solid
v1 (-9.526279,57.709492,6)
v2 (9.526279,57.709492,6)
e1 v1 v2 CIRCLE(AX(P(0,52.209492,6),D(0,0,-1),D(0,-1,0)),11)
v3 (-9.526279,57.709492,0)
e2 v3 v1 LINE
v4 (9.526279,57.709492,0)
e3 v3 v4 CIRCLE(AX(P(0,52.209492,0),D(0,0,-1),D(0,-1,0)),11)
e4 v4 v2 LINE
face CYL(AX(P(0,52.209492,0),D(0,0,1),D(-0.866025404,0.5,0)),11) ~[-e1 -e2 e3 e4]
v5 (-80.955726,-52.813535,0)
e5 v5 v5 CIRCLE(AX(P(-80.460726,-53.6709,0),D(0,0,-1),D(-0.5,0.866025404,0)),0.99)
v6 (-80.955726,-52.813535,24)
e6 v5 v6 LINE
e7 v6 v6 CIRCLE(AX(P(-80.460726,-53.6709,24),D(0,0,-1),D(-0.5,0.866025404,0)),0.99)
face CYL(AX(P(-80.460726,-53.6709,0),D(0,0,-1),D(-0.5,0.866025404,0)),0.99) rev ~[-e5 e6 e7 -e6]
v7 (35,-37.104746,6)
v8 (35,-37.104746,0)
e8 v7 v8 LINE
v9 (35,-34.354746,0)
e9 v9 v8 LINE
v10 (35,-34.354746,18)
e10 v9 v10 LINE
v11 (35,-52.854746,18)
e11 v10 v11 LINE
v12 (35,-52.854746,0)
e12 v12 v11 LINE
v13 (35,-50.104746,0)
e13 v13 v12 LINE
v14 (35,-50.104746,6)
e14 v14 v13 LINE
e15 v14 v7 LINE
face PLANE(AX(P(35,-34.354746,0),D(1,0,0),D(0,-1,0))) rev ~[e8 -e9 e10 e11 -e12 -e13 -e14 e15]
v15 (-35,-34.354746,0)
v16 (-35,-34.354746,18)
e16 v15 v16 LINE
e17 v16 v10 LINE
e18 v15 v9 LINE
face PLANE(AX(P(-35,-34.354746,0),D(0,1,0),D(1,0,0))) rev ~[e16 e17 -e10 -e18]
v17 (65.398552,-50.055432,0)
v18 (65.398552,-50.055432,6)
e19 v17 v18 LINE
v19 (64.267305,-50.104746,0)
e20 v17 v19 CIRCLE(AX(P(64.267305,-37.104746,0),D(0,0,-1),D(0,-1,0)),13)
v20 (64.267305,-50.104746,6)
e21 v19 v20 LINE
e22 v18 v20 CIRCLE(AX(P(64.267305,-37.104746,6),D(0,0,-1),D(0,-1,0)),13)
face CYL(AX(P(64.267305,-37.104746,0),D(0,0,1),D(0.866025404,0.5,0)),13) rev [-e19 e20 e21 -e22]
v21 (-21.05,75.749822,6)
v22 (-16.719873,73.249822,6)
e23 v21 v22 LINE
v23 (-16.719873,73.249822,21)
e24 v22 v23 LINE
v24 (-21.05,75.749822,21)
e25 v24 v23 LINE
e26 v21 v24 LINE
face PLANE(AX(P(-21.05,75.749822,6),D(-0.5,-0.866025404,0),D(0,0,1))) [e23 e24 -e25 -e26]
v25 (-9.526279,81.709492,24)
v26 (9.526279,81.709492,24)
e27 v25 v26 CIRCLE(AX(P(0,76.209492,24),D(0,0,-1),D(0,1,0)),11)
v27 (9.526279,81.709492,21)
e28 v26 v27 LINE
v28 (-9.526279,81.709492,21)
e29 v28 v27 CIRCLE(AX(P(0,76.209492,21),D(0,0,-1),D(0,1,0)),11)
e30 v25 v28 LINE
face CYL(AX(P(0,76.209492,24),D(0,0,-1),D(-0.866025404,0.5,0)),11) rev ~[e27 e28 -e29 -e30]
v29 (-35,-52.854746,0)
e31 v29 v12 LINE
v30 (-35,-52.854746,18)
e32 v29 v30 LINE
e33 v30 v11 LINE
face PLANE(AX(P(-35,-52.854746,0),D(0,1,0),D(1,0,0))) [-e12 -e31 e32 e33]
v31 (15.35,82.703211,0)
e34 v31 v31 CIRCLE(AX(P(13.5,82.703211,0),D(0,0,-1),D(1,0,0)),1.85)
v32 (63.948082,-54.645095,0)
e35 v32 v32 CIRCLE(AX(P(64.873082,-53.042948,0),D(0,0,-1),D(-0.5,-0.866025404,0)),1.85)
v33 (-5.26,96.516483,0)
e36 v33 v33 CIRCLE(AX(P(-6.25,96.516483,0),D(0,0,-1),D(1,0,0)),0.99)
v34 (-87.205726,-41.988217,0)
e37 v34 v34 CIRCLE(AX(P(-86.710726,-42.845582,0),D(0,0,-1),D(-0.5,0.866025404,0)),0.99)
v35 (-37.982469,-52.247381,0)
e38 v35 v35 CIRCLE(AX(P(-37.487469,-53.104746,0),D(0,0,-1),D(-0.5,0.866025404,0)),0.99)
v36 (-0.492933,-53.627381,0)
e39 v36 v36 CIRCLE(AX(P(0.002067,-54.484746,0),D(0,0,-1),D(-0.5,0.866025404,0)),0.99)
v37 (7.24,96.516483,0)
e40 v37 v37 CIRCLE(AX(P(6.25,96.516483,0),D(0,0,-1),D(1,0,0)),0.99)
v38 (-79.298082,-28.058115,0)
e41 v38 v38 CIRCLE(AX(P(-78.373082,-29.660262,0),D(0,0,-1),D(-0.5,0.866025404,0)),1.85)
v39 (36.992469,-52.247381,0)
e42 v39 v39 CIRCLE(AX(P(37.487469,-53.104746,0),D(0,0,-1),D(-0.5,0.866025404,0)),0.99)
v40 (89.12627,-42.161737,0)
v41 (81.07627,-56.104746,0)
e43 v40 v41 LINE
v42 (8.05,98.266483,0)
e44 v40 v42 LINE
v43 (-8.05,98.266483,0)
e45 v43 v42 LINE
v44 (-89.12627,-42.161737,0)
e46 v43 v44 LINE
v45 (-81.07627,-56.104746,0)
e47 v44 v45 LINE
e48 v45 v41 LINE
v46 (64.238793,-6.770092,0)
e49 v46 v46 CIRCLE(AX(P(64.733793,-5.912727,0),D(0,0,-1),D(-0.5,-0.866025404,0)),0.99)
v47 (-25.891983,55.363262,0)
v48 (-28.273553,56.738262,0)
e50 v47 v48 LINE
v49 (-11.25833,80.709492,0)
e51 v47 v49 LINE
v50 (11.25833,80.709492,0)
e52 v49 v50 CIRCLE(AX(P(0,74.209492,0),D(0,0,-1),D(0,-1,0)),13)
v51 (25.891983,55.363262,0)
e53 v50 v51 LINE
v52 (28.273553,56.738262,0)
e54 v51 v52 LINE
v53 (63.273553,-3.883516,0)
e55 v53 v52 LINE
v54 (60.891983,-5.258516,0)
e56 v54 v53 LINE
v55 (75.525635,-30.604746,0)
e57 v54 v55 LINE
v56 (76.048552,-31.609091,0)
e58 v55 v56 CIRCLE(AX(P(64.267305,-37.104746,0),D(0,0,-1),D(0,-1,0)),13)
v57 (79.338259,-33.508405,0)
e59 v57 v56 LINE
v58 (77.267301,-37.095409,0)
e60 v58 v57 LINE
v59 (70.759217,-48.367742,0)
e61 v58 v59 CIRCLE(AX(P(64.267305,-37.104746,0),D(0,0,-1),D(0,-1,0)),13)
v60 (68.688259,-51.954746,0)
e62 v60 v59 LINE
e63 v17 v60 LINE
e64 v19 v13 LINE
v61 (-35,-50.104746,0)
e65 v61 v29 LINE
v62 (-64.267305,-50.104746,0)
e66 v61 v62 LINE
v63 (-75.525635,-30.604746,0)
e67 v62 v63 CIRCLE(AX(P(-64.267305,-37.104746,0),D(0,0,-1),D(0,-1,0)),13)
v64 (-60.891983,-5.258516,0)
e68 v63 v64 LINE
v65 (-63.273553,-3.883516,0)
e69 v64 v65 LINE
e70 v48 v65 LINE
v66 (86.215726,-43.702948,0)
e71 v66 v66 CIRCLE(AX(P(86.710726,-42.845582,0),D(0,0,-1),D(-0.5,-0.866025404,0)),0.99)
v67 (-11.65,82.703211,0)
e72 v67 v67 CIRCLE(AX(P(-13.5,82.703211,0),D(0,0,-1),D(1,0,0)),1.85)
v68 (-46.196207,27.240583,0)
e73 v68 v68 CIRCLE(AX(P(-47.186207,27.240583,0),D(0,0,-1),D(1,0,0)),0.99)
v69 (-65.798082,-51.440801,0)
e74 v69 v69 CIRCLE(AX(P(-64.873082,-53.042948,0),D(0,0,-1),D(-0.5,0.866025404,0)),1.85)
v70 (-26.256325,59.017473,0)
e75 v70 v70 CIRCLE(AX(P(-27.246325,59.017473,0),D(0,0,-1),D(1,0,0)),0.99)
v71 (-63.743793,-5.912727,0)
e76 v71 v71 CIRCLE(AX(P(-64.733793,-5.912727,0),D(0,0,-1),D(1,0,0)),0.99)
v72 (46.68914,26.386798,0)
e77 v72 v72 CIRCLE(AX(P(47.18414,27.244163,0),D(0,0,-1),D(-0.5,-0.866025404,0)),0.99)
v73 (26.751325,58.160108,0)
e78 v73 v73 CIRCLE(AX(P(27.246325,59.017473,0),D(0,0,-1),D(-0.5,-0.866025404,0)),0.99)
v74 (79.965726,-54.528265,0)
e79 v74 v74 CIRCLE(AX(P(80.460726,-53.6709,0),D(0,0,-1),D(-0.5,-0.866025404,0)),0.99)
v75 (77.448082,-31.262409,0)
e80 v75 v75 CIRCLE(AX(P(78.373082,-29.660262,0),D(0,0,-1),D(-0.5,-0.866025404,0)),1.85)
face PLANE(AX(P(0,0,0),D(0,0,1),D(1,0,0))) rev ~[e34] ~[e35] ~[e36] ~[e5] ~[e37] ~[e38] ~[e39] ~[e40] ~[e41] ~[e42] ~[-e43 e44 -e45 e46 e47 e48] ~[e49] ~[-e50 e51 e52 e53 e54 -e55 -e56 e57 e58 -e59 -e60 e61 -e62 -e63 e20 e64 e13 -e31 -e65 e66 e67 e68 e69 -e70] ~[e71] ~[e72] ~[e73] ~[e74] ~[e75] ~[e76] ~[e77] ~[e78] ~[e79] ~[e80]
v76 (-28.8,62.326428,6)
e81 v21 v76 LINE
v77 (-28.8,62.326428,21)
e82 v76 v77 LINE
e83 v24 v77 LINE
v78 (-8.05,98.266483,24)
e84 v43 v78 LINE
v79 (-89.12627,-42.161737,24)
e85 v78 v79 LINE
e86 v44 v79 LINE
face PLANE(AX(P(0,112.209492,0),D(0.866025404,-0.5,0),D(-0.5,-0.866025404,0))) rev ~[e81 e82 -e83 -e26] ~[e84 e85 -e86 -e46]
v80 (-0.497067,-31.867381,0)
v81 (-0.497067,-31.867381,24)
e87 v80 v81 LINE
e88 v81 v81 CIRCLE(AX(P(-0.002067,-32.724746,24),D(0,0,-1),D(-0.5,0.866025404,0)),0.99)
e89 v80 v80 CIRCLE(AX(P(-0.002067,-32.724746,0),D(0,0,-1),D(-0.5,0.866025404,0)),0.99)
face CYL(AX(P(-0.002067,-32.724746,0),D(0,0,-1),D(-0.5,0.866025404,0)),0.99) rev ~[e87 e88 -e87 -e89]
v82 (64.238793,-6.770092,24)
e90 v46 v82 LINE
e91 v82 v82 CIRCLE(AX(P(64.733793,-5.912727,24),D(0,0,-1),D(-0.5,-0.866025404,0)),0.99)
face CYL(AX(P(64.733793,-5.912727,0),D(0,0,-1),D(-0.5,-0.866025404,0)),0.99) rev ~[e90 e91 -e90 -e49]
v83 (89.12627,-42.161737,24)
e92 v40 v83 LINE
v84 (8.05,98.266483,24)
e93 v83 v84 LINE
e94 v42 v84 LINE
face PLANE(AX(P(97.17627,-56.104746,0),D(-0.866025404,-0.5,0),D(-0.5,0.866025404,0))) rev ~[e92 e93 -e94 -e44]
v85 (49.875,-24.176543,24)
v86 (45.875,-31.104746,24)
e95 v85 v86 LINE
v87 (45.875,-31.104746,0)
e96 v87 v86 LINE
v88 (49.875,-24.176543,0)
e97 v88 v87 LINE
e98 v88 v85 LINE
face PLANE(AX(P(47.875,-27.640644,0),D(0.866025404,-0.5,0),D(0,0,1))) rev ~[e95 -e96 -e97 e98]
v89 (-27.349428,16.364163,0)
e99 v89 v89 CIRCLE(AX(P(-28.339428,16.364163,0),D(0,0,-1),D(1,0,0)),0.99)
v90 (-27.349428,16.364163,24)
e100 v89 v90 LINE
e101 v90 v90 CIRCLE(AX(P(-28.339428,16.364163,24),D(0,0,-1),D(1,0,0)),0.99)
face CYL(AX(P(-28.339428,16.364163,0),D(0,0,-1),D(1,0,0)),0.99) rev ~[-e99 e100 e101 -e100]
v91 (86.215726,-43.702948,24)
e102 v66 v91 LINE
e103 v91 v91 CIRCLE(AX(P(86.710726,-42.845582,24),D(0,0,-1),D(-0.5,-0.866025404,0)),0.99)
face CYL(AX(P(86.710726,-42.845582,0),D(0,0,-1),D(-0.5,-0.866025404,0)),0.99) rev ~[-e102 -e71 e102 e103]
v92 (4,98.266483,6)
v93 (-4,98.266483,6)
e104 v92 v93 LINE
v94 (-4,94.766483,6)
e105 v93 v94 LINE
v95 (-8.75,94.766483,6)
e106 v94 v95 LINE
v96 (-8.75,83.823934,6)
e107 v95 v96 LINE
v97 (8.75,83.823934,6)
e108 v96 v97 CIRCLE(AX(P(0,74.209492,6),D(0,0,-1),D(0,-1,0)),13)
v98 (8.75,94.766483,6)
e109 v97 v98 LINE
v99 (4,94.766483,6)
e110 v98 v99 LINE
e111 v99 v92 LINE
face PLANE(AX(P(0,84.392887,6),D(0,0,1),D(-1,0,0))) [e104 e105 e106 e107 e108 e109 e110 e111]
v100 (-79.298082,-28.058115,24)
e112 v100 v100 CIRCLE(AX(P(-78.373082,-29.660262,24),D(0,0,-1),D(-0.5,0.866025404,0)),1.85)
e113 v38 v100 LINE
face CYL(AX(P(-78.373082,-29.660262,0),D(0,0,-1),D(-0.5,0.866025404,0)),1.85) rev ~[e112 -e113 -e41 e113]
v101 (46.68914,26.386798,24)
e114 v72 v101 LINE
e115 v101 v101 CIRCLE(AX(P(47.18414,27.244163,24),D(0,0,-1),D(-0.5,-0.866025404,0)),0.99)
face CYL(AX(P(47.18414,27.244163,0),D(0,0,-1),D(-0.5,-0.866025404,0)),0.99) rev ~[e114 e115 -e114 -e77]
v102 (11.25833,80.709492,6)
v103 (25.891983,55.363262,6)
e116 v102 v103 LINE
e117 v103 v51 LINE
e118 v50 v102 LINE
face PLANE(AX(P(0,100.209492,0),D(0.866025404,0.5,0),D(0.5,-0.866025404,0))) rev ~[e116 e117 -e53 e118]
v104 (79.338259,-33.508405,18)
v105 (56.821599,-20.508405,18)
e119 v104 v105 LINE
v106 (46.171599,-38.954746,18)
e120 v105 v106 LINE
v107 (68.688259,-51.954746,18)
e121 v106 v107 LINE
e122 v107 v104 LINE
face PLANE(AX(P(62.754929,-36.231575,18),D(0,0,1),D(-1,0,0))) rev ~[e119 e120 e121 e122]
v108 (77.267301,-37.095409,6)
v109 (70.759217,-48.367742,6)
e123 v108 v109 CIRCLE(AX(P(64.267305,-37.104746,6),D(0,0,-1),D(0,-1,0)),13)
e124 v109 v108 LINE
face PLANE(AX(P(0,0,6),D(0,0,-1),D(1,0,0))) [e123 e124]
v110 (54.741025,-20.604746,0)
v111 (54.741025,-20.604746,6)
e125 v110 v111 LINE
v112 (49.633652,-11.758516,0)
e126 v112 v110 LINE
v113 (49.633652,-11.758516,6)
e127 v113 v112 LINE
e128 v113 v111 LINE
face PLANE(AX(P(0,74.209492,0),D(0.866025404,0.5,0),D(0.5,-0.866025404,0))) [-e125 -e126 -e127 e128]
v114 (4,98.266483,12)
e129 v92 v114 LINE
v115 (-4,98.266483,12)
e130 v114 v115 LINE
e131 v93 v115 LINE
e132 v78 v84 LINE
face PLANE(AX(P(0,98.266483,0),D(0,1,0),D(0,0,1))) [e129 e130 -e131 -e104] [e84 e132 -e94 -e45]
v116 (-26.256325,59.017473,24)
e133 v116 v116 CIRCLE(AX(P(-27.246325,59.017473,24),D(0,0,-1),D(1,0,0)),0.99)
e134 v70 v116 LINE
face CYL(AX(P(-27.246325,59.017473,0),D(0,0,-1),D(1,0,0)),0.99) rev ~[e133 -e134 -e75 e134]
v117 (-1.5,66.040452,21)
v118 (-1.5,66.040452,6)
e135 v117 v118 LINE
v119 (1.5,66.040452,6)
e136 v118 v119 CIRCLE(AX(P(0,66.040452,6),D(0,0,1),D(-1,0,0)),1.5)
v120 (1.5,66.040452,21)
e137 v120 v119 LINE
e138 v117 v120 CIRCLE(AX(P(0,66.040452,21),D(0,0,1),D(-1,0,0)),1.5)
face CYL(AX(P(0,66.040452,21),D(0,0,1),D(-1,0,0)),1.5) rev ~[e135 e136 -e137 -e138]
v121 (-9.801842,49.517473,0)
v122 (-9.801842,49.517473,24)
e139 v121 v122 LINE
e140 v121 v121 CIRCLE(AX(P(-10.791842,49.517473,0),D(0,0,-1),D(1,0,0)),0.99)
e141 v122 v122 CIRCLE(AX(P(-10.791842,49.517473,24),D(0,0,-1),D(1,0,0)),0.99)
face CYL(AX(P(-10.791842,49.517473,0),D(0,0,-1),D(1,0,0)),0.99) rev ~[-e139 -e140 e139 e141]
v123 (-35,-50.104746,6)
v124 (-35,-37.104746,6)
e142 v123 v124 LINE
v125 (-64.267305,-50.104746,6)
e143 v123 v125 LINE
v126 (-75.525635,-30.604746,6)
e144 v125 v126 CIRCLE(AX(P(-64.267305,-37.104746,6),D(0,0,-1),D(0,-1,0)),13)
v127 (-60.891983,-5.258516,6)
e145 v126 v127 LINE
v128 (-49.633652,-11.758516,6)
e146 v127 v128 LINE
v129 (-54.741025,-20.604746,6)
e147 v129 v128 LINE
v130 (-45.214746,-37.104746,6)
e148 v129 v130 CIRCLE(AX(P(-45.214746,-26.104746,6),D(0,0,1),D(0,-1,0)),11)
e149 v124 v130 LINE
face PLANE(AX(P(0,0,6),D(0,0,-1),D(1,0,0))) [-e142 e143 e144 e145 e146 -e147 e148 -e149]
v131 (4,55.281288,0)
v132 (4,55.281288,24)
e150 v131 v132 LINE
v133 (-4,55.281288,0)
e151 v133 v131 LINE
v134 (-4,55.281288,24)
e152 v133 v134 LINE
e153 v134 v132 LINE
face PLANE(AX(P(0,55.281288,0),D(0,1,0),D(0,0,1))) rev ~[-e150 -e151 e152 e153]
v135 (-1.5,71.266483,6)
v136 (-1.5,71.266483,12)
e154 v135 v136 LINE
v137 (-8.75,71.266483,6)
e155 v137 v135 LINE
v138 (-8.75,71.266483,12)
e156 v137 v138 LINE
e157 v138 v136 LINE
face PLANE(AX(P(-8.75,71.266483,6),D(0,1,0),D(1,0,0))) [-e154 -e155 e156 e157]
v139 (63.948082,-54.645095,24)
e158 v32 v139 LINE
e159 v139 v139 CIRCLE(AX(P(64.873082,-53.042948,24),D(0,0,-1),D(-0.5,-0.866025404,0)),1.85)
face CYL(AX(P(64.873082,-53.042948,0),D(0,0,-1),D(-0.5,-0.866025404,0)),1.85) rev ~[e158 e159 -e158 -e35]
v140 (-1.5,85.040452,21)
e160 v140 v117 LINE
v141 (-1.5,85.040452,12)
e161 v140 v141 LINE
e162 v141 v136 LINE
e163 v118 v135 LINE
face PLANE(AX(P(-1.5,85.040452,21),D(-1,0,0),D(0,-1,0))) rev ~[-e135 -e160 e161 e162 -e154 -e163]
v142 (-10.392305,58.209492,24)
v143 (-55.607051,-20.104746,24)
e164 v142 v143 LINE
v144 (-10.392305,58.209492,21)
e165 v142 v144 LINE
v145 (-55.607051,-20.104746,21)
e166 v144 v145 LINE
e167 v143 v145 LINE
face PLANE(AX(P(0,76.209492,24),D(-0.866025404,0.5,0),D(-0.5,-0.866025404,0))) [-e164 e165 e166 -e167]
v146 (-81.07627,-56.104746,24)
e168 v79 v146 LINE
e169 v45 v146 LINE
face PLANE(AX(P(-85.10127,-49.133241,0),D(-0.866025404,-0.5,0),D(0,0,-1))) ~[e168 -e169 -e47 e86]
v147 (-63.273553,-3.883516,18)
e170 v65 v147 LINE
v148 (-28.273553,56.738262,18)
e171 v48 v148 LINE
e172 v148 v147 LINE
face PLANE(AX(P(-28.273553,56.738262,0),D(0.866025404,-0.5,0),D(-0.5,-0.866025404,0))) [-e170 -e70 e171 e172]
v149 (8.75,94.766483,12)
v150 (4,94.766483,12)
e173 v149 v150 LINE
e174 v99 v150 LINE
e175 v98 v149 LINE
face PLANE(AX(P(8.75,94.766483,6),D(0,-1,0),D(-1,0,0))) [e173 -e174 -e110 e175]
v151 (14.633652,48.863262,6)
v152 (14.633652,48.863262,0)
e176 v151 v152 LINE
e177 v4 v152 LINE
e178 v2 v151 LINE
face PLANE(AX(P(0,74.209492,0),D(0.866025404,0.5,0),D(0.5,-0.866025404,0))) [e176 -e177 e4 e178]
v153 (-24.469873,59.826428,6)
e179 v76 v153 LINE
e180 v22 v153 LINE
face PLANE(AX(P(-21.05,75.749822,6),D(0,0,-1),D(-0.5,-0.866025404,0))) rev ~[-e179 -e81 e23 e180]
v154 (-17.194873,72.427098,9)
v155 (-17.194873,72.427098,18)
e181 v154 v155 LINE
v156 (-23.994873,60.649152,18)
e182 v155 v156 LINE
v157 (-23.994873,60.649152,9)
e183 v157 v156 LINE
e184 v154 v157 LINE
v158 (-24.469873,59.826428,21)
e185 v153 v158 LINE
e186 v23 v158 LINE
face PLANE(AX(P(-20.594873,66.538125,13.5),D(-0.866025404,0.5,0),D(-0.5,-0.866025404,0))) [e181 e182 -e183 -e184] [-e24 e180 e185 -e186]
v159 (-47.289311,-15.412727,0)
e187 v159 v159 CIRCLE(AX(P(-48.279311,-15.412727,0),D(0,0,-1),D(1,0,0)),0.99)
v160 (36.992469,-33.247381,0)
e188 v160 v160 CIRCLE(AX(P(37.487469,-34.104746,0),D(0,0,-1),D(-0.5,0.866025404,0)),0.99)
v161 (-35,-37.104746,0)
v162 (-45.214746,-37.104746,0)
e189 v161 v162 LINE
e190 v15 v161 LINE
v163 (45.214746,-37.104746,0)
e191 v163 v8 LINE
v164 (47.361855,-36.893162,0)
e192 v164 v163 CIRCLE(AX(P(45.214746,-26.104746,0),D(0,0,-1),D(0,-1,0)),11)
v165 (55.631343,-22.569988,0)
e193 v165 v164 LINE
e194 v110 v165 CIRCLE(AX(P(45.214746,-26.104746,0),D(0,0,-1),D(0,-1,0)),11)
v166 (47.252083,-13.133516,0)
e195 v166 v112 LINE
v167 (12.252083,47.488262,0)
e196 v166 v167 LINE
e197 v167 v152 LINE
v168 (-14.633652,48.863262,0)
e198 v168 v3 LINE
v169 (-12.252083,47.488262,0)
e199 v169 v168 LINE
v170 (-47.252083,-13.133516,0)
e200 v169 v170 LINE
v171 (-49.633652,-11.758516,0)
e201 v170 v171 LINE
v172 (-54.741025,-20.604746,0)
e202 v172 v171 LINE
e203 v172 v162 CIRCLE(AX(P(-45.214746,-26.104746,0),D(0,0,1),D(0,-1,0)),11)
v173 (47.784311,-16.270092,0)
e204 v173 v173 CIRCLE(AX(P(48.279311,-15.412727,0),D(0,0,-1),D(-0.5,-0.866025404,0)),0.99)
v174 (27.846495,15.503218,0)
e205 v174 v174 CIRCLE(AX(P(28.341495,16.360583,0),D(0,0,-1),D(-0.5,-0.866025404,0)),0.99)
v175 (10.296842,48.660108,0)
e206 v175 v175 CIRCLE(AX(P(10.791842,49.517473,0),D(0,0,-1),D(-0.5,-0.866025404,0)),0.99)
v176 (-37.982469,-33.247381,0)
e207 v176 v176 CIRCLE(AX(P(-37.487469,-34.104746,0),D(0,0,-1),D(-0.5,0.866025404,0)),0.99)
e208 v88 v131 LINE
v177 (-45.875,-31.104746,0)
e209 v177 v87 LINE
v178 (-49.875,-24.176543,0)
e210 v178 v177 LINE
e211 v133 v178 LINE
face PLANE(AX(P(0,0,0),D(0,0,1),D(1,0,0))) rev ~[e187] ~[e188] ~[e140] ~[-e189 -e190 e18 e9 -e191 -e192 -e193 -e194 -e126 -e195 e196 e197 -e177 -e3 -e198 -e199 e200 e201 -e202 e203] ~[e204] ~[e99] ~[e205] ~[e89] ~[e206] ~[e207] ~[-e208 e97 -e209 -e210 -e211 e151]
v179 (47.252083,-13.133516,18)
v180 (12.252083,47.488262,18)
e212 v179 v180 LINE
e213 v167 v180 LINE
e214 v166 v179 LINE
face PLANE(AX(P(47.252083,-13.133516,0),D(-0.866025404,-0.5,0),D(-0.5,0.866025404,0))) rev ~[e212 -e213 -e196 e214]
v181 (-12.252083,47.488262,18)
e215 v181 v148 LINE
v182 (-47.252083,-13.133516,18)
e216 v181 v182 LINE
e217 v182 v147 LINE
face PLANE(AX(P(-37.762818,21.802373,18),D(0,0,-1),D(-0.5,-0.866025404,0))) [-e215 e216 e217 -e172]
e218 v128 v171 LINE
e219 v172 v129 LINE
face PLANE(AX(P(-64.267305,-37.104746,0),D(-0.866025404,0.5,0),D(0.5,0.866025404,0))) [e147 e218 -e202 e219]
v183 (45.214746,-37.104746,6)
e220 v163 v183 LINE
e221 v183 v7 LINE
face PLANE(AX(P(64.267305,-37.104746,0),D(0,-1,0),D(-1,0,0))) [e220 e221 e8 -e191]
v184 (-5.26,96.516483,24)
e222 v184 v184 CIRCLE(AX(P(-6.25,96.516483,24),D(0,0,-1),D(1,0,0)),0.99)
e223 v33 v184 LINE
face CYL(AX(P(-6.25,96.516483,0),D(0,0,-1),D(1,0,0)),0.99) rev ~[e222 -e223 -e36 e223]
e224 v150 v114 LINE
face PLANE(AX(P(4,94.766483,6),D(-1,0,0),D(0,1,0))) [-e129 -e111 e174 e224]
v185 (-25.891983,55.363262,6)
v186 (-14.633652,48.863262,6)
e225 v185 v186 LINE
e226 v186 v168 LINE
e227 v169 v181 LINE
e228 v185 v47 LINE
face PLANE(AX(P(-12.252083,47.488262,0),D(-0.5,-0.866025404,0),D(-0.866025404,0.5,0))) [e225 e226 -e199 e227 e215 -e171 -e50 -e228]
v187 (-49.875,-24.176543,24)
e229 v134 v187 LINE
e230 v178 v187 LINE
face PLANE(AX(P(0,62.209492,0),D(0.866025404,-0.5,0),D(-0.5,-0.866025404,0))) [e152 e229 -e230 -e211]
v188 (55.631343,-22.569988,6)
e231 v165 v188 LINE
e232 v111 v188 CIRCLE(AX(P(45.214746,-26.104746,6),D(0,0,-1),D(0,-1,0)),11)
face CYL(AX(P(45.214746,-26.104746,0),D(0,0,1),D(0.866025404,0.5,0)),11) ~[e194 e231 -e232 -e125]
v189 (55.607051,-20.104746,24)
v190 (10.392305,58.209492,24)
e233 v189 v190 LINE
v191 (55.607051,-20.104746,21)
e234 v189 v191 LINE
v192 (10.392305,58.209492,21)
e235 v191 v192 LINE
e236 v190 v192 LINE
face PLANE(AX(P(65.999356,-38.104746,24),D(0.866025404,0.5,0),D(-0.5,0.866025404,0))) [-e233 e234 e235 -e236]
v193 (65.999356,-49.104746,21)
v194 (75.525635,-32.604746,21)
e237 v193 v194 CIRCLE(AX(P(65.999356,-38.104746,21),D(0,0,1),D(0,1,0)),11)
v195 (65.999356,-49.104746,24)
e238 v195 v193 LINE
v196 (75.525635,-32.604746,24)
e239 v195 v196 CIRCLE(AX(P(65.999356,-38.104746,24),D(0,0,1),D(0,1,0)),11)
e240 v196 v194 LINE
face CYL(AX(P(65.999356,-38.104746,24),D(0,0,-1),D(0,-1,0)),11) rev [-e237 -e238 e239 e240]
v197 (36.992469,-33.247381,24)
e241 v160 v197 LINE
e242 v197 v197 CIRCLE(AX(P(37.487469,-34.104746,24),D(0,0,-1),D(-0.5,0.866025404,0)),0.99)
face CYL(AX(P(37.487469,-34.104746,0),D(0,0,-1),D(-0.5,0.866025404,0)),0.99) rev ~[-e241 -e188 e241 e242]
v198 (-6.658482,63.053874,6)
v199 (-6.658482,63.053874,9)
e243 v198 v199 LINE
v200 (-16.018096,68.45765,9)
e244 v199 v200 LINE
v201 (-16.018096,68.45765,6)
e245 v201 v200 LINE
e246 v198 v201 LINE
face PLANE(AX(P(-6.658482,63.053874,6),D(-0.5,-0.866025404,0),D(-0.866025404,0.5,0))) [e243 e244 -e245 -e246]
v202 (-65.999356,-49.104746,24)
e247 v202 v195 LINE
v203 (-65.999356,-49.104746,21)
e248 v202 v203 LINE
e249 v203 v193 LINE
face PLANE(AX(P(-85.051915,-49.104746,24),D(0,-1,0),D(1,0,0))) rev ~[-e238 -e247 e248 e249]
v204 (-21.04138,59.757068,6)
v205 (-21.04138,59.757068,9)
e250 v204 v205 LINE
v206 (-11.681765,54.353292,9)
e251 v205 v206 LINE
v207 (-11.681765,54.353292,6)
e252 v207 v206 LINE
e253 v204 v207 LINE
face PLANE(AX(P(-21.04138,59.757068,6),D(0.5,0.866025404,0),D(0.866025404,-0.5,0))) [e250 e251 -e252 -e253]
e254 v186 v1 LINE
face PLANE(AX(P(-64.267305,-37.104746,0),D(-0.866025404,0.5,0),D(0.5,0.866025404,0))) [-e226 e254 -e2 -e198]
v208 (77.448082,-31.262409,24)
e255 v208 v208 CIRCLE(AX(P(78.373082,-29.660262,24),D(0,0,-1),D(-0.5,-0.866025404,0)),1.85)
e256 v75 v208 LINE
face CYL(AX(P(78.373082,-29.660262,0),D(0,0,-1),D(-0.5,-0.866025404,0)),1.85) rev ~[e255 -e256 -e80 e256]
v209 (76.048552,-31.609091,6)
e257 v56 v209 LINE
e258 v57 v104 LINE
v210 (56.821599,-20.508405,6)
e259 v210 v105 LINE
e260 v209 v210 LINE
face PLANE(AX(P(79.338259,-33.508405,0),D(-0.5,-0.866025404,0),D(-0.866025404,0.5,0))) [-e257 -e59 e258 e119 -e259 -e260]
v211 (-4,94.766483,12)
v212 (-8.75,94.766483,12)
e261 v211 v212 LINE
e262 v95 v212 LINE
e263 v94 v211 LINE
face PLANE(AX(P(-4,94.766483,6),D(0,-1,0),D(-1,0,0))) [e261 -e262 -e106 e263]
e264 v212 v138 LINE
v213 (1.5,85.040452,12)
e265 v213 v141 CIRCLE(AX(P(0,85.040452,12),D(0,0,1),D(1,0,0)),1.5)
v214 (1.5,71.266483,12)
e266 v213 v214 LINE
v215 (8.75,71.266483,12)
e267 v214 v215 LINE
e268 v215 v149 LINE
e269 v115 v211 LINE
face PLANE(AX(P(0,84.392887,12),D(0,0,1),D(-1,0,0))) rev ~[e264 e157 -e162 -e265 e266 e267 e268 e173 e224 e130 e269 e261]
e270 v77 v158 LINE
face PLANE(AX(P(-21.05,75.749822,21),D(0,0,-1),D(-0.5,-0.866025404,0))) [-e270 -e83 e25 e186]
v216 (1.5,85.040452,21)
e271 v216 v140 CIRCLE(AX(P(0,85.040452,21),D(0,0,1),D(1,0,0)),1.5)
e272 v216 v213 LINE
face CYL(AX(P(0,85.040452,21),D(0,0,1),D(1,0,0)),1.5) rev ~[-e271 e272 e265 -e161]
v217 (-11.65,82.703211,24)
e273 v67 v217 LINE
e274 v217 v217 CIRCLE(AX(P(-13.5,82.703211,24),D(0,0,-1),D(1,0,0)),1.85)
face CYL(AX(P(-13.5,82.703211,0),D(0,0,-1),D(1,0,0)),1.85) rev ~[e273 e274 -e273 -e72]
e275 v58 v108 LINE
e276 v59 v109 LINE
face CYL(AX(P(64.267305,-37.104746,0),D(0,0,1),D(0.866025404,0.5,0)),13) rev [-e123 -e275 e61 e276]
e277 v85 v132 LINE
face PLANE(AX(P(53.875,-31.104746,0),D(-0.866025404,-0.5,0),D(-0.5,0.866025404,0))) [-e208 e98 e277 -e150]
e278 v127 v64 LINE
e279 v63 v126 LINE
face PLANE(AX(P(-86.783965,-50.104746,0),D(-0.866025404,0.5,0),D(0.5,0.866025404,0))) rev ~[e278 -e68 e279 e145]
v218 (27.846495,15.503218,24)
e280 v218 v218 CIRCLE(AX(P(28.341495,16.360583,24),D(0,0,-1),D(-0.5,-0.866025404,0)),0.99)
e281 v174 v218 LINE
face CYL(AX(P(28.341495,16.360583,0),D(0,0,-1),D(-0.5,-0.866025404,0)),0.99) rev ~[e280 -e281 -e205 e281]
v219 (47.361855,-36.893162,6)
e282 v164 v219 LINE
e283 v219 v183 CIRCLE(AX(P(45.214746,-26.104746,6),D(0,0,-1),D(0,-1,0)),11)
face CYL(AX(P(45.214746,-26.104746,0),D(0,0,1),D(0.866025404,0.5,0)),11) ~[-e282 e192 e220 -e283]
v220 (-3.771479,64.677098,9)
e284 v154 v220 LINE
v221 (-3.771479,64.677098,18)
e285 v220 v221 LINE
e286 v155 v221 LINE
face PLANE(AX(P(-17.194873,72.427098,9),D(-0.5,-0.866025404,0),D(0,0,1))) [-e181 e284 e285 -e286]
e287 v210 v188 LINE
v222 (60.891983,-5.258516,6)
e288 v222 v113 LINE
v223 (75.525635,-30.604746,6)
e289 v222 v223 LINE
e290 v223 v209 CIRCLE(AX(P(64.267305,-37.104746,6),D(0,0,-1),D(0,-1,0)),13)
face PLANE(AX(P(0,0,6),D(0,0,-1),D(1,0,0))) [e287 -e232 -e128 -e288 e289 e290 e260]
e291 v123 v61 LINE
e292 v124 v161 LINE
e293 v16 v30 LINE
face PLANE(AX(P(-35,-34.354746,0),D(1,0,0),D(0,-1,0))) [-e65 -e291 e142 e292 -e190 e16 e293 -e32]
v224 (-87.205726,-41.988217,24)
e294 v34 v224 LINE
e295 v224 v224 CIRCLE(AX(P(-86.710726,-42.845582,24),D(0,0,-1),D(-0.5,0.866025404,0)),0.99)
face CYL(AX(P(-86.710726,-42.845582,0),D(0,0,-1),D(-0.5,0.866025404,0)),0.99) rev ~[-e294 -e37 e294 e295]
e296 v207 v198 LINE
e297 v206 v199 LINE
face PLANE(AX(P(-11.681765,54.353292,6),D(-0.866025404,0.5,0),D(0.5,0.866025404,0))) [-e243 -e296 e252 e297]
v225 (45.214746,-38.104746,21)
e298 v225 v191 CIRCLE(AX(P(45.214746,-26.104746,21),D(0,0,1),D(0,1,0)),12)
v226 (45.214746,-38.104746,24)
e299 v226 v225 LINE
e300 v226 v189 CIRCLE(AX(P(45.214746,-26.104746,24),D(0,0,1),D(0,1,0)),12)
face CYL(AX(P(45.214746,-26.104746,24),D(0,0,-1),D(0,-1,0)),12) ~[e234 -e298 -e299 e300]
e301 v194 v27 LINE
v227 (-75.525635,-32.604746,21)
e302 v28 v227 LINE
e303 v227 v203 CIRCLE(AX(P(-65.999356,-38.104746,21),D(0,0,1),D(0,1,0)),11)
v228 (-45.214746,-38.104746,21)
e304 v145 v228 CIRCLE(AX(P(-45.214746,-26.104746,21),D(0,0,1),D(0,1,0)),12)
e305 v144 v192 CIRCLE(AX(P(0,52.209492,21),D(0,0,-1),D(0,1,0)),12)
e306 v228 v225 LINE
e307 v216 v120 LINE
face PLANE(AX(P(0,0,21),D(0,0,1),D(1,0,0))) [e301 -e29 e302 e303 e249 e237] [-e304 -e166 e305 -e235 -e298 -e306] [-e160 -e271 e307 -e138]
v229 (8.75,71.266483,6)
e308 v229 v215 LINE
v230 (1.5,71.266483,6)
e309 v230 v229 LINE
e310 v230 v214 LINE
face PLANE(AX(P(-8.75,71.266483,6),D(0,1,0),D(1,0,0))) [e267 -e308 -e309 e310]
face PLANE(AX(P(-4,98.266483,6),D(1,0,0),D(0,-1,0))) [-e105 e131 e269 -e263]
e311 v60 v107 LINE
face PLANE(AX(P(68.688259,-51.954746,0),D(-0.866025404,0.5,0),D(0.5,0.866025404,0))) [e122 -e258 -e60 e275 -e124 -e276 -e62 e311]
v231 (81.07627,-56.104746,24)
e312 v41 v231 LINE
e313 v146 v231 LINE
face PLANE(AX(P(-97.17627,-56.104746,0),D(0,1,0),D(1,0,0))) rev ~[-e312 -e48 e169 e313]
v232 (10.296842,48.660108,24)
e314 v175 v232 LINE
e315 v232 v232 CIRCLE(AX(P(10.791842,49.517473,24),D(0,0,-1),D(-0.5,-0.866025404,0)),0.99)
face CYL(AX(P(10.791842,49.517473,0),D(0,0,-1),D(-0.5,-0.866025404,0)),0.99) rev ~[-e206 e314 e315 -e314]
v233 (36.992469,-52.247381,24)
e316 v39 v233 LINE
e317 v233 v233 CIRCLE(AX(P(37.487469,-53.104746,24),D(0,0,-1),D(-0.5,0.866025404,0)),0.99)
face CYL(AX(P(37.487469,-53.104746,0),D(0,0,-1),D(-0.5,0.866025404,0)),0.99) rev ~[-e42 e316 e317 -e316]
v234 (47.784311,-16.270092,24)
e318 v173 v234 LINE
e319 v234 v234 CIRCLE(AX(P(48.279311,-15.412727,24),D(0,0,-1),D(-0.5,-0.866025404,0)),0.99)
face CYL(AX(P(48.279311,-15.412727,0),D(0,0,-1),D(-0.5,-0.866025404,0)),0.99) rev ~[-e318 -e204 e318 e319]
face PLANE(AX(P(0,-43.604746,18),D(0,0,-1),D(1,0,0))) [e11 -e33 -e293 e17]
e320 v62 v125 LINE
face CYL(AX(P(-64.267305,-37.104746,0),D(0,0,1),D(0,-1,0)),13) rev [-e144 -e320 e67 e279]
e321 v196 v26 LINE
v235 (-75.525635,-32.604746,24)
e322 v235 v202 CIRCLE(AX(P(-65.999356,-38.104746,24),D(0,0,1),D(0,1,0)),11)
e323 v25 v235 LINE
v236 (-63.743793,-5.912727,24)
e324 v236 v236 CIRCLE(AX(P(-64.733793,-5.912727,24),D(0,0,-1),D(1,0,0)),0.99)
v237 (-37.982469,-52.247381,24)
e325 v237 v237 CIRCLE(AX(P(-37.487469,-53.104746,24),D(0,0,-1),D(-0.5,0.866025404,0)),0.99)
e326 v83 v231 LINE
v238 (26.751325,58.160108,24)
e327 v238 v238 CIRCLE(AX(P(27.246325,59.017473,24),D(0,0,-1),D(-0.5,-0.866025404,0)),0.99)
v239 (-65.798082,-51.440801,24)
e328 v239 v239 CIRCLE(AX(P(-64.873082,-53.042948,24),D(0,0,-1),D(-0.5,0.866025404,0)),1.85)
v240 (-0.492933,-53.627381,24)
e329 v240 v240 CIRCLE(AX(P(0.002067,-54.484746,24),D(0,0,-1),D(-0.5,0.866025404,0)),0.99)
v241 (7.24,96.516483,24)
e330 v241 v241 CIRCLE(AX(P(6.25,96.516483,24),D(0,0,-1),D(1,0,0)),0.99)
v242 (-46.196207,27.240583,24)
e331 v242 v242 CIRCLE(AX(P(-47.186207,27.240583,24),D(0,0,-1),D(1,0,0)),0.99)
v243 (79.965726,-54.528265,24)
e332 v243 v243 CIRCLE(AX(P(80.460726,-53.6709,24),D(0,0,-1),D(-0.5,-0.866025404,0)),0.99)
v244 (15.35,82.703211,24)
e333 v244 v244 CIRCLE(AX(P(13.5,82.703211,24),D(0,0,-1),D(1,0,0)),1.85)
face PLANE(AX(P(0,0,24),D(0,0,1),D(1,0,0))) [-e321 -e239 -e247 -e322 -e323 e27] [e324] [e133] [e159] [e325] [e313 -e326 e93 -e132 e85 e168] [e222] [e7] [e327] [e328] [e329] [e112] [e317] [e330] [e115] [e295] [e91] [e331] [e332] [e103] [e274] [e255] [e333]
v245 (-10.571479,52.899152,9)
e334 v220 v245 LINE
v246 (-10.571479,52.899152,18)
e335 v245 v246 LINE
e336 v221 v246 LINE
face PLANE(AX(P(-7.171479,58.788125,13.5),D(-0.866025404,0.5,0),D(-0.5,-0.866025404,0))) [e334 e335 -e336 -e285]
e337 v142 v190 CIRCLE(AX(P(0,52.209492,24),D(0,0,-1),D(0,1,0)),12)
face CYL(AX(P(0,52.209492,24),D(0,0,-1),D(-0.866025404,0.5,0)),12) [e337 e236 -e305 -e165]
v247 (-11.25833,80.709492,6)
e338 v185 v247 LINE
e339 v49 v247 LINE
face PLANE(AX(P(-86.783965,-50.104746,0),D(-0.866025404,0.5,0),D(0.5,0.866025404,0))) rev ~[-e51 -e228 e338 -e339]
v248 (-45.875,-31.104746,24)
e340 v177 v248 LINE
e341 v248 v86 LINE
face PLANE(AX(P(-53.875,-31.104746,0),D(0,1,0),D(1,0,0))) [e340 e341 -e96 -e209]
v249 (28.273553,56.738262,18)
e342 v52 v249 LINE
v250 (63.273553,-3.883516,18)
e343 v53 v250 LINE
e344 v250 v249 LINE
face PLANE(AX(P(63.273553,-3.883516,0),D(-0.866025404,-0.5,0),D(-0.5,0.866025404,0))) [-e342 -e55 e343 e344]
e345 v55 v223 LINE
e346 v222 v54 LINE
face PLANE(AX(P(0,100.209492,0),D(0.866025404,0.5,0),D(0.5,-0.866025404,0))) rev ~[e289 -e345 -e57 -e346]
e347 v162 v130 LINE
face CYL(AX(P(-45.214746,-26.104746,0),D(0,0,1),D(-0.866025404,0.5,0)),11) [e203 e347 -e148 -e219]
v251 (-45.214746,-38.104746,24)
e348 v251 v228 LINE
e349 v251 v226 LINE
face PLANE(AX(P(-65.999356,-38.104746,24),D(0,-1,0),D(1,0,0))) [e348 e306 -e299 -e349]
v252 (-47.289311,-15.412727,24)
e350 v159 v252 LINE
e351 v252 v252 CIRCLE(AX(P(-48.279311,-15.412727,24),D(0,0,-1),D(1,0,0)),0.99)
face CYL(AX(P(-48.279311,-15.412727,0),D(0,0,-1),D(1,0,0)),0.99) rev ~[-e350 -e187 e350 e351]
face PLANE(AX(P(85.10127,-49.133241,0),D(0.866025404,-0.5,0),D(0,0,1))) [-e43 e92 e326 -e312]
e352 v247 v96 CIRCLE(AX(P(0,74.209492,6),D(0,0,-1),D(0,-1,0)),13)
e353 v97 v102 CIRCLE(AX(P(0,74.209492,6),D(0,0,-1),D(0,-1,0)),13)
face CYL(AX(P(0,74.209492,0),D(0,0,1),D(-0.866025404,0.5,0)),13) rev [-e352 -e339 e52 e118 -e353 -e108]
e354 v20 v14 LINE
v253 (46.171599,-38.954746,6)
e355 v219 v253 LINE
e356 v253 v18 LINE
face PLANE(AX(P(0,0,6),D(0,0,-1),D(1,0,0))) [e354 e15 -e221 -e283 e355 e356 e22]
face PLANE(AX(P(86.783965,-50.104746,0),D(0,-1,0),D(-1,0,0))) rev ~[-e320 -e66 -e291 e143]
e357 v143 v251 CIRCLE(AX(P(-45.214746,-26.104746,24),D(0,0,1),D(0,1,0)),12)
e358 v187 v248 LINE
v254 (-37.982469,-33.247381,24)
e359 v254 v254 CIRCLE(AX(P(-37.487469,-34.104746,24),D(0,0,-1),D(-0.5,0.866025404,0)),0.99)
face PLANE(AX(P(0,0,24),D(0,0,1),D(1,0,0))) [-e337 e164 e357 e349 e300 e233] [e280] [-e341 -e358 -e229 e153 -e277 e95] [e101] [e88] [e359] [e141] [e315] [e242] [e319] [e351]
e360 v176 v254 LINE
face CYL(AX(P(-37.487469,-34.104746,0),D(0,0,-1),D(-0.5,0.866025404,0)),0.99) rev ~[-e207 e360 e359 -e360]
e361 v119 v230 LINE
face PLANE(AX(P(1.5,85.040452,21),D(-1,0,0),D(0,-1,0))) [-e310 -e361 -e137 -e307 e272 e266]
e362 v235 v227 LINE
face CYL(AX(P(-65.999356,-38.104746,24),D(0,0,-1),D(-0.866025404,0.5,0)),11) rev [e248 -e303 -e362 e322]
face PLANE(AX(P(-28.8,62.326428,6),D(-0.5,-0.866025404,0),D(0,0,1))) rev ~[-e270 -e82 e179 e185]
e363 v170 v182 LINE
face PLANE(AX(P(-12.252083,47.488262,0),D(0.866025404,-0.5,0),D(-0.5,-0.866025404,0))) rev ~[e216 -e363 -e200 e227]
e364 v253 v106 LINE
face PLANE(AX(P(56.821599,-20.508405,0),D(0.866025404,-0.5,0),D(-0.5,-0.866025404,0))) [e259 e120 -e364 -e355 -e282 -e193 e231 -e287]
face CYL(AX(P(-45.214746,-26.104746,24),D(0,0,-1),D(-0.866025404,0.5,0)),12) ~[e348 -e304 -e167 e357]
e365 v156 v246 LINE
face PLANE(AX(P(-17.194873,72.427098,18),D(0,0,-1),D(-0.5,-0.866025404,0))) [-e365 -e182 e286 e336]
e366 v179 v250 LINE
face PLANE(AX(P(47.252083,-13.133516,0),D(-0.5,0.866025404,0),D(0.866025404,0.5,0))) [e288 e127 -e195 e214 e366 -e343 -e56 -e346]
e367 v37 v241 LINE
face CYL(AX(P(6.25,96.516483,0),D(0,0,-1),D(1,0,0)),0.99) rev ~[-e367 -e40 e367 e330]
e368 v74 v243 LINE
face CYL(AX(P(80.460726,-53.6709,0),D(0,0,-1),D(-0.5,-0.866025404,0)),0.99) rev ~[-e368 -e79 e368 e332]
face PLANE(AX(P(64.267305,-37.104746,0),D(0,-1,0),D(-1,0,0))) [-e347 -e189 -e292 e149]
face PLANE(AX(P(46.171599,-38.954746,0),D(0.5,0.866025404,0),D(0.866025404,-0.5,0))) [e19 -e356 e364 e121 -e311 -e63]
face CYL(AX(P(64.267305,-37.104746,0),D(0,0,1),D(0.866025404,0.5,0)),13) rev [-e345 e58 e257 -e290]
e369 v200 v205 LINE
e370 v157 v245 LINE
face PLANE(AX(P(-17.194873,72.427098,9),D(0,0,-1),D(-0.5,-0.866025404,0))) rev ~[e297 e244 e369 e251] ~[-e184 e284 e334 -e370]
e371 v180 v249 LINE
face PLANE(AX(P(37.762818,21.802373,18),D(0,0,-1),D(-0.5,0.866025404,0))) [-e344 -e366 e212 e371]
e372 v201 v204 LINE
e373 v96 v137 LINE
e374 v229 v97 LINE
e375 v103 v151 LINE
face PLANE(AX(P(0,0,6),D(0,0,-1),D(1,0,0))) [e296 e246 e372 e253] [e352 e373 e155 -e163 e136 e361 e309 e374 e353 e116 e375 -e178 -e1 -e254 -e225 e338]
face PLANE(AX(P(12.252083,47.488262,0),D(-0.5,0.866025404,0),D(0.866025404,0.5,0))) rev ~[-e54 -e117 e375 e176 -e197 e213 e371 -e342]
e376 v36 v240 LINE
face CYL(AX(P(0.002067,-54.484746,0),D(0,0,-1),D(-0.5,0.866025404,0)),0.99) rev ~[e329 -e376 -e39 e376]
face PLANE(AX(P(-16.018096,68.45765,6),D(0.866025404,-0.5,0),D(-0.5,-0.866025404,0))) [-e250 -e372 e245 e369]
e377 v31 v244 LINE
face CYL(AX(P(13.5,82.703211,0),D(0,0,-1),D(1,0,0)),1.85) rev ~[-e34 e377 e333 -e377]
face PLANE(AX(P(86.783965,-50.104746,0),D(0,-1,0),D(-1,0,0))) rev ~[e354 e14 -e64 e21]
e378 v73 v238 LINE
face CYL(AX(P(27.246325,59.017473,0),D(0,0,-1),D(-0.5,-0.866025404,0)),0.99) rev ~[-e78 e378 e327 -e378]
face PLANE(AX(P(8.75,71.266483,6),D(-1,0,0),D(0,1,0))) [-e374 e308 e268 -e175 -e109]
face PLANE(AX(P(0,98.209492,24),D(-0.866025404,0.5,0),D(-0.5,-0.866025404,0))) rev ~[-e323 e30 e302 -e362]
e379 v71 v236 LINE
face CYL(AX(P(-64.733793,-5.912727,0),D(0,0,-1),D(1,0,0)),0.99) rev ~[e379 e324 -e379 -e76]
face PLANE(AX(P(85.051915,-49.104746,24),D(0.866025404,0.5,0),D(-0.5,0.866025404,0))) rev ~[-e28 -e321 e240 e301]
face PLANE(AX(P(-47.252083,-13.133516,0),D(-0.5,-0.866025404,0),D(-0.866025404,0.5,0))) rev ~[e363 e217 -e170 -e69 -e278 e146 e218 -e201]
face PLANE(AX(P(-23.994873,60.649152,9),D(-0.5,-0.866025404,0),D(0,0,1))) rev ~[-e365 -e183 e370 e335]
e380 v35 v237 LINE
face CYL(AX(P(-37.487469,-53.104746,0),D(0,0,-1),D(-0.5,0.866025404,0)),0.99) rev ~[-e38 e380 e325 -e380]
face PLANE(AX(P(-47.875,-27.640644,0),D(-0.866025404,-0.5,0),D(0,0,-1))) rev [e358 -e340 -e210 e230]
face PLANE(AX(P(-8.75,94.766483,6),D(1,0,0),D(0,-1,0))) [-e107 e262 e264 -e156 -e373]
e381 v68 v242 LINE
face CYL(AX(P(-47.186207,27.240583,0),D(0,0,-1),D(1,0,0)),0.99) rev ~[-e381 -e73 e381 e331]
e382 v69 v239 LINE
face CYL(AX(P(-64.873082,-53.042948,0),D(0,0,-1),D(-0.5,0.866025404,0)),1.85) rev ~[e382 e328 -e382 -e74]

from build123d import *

# Parameters (mm, degrees)
PAD_DEPTH             = 24
POCKET_DEPTH          = 3
SKETCH002_W           = 70
SKETCH002_H           = 18.5
POCKET001_DEPTH       = 18
POLARPATTERN_COUNT    = 3
POCKET002_DEPTH       = 6
CHAMFER_SIZE          = 8
FILLET_R              = 13
FILLET001_R           = 11
CHAMFER001_SIZE       = 16.1
FILLET002_R           = 11
FILLET003_R           = 12
POCKET003_DEPTH       = 6
POCKET004_DEPTH       = 18
POCKET005_DEPTH       = 21.001
SKETCH007_W           = 15.5
SKETCH007_H           = 15
POCKET006_DEPTH       = 5
SKETCH010_W           = 13.6
SKETCH010_H           = 9
POCKET009_DEPTH       = 15.5
POCKET010_DEPTH       = 3
SKETCH012_R           = 1.85
SKETCH012_R_2         = 0.99
POCKET011_DEPTH       = 498.0492855781
POLARPATTERN001_COUNT = 3


with BuildPart() as part:
    # Sketch → Pad (new body)
    with BuildSketch(Plane.XY):
        Polygon((0, 112.2094915052), (-97.1762701892, -56.1047457526), (97.1762701892, -56.1047457526), align=None)
        Polygon((0, 62.2094915052), (-53.875, -31.1047457526), (53.875, -31.1047457526), align=None, mode=Mode.SUBTRACT)
    extrude(amount=PAD_DEPTH)

    # Sketch001 (on Face8 of Pad) → Pocket (cut)
    with BuildSketch(Plane.XY.offset(24)):
        Polygon((0, 98.2094915052), (-85.0519145362, -49.1047457526), (85.0519145362, -49.1047457526), align=None)
        Polygon((0, 76.2094915052), (-65.999355653, -38.1047457526), (65.999355653, -38.1047457526), align=None, mode=Mode.SUBTRACT)
    extrude(amount=-POCKET_DEPTH, mode=Mode.SUBTRACT)

    # Sketch002 (on Face4 of Pocket) → Pocket001 (cut)
    with BuildSketch(Plane(origin=(0, 0, 0), x_dir=(1, 0, 0), z_dir=(0, 0, -1))):
        with Locations((0, 43.6047457526)):
            Rectangle(SKETCH002_W, SKETCH002_H)
    pocket001 = extrude(amount=-POCKET001_DEPTH, mode=Mode.SUBTRACT)

    # PolarPattern: Pocket001 ×3 about axis
    polarpattern_axis = Axis((0, 0, 0), (0, 0, -1))
    for i in range(1, POLARPATTERN_COUNT):
        add(pocket001.rotate(polarpattern_axis, i * 360 / POLARPATTERN_COUNT), mode=Mode.SUBTRACT)

    # Sketch003 (on Face4 of PolarPattern) → Pocket002 (cut)
    with BuildSketch(Plane(origin=(0, 0, 0), x_dir=(1, 0, 0), z_dir=(0, 0, -1))):
        Polygon((0, -100.2094915052), (86.7839653438, 50.1047457526), (-86.7839653438, 50.1047457526), align=None)
        Polygon((0, -74.2094915052), (64.2673048454, 37.1047457526), (-64.2673048454, 37.1047457526), align=None, mode=Mode.SUBTRACT)
    extrude(amount=-POCKET002_DEPTH, mode=Mode.SUBTRACT)

    # Chamfer
    chamfer_edges = [part.edges().sort_by_distance(p)[0] for p in [
        (-53.875, -31.104746, 12),
        (53.875, -31.104746, 12),
        (0, 62.209492, 12),
    ]]
    chamfer(chamfer_edges, length=CHAMFER_SIZE)

    # Fillet
    fillet_edges = [part.edges().sort_by_distance(p)[0] for p in [
        (0, 100.209492, 3),
        (-86.783965, -50.104746, 3),
        (86.783965, -50.104746, 3),
    ]]
    fillet(fillet_edges, radius=FILLET_R)

    # Fillet001
    fillet001_edges = [part.edges().sort_by_distance(p)[0] for p in [
        (0, 74.209492, 3),
        (64.267305, -37.104746, 3),
        (-64.267305, -37.104746, 3),
    ]]
    fillet(fillet001_edges, radius=FILLET001_R)

    # Chamfer001
    chamfer001_edges = [part.edges().sort_by_distance(p)[0] for p in [
        (97.17627, -56.104746, 12),
        (0, 112.209492, 12),
        (-97.17627, -56.104746, 12),
    ]]
    chamfer(chamfer001_edges, length=CHAMFER001_SIZE)

    # Fillet002
    fillet002_edges = [part.edges().sort_by_distance(p)[0] for p in [
        (0, 98.209492, 22.5),
        (-85.051915, -49.104746, 22.5),
        (85.051915, -49.104746, 22.5),
    ]]
    fillet(fillet002_edges, radius=FILLET002_R)

    # Fillet003
    fillet003_edges = [part.edges().sort_by_distance(p)[0] for p in [
        (65.999356, -38.104746, 22.5),
        (0, 76.209492, 22.5),
        (-65.999356, -38.104746, 22.5),
    ]]
    fillet(fillet003_edges, radius=FILLET003_R)

    # Sketch004 (on Face60 of Fillet003) → Pocket003 (cut)
    with BuildSketch(Plane(origin=(0, 0, 6), x_dir=(1, 0, 0), z_dir=(0, 0, -1))):
        Polygon((-8.75, -71.2664825043), (8.75, -71.2664825043), (8.75, -94.7664825043), (4, -94.7664825043), (4, -98.2664825043), (-4, -98.2664825043), (-4, -94.7664825043), (-8.75, -94.7664825043), align=None)
    extrude(amount=-POCKET003_DEPTH, mode=Mode.SUBTRACT)

    # Sketch005 (on Face29 of Pocket003) → Pocket004 (cut)
    with BuildSketch(Plane(origin=(0, 0, 0), x_dir=(1, 0, 0), z_dir=(0, 0, -1))):
        Polygon((46.1715988394, 38.9547457526), (68.6882593378, 51.9547457526), (79.3382593378, 33.508404652), (56.8215988394, 20.508404652), align=None)
    extrude(amount=-POCKET004_DEPTH, mode=Mode.SUBTRACT)

    # Sketch006 (on Face1 of Pocket004) → Pocket005 (cut, through all)
    with BuildSketch(Plane.XY.offset(21)):
        with BuildLine():
            ThreePointArc((1.5, 85.0404521425), (0, 86.5404521425), (-1.5, 85.0404521425))
            Line((-1.5, 85.0404521425), (-1.5, 66.0404521425))
            ThreePointArc((-1.5, 66.0404521425), (0, 64.5404521425), (1.5, 66.0404521425))
            Line((1.5, 85.0404521425), (1.5, 66.0404521425))
        make_face()
    extrude(amount=-POCKET005_DEPTH, mode=Mode.SUBTRACT)

    # Sketch007 (on Face24 of Pocket005) → Pocket006 (cut)
    with BuildSketch(Plane(origin=(-48.5881350946, 28.0523728763, 0), x_dir=(-0.5, -0.8660254038, 0), z_dir=(-0.8660254038, 0.5, 0))):
        with Locations((-47.3262701892, 13.5)):
            Rectangle(SKETCH007_W, SKETCH007_H)
    extrude(amount=-POCKET006_DEPTH, mode=Mode.SUBTRACT)

    # Sketch010 (on Face79 of Pocket006) → Pocket009 (cut)
    with BuildSketch(Plane(origin=(-44.2580080757, 25.5523728763, 0), x_dir=(-0.5, -0.8660254038, 0), z_dir=(-0.8660254038, 0.5, 0))):
        with Locations((-47.3262701892, 13.5)):
            Rectangle(SKETCH010_W, SKETCH010_H)
    extrude(amount=-POCKET009_DEPTH, mode=Mode.SUBTRACT)

    # Sketch011 (on Face21 of Pocket009) → Pocket010 (cut)
    with BuildSketch(Plane(origin=(0, 0, 6), x_dir=(1, 0, 0), z_dir=(0, 0, -1))):
        Polygon((-21.0413798427, -59.7570681827), (-11.6817654684, -54.3532923042), (-6.658482036, -63.0538744299), (-16.0180964103, -68.4576503084), align=None)
    extrude(amount=-POCKET010_DEPTH, mode=Mode.SUBTRACT)

    # Sketch012 (on Face54 of Pocket010) → Pocket011 (cut, through all)
    with BuildSketch(Plane(origin=(0, 0, 0), x_dir=(1, 0, 0), z_dir=(0, 0, -1))):
        with Locations((-13.5, -82.7032108255)):
            Circle(SKETCH012_R)
        with Locations((13.5, -82.7032108255)):
            Circle(SKETCH012_R)
        with Locations((-6.25, -96.5164825043)):
            Circle(SKETCH012_R_2)
        with Locations((6.25, -96.5164825043)):
            Circle(SKETCH012_R_2)
        with Locations((-27.2463245869, -59.0174730012)):
            Circle(SKETCH012_R_2)
        with Locations((-47.1862074814, -27.2405827309)):
            Circle(SKETCH012_R_2)
        with Locations((-64.7337931796, 5.9127272486)):
            Circle(SKETCH012_R_2)
        with Locations((-10.791841915, -49.5174730012)):
            Circle(SKETCH012_R_2)
        with Locations((-28.3394276132, -16.3641630217)):
            Circle(SKETCH012_R_2)
        with Locations((-48.2793105078, 15.4127272487)):
            Circle(SKETCH012_R_2)
    pocket011 = extrude(amount=-POCKET011_DEPTH, mode=Mode.SUBTRACT)

    # PolarPattern001: Pocket011 ×3 about axis
    polarpattern001_axis = Axis((0, 0, 0), (0, 0, -1))
    for i in range(1, POLARPATTERN001_COUNT):
        add(pocket011.rotate(polarpattern001_axis, i * 360 / POLARPATTERN001_COUNT), mode=Mode.SUBTRACT)


solid = part.part
